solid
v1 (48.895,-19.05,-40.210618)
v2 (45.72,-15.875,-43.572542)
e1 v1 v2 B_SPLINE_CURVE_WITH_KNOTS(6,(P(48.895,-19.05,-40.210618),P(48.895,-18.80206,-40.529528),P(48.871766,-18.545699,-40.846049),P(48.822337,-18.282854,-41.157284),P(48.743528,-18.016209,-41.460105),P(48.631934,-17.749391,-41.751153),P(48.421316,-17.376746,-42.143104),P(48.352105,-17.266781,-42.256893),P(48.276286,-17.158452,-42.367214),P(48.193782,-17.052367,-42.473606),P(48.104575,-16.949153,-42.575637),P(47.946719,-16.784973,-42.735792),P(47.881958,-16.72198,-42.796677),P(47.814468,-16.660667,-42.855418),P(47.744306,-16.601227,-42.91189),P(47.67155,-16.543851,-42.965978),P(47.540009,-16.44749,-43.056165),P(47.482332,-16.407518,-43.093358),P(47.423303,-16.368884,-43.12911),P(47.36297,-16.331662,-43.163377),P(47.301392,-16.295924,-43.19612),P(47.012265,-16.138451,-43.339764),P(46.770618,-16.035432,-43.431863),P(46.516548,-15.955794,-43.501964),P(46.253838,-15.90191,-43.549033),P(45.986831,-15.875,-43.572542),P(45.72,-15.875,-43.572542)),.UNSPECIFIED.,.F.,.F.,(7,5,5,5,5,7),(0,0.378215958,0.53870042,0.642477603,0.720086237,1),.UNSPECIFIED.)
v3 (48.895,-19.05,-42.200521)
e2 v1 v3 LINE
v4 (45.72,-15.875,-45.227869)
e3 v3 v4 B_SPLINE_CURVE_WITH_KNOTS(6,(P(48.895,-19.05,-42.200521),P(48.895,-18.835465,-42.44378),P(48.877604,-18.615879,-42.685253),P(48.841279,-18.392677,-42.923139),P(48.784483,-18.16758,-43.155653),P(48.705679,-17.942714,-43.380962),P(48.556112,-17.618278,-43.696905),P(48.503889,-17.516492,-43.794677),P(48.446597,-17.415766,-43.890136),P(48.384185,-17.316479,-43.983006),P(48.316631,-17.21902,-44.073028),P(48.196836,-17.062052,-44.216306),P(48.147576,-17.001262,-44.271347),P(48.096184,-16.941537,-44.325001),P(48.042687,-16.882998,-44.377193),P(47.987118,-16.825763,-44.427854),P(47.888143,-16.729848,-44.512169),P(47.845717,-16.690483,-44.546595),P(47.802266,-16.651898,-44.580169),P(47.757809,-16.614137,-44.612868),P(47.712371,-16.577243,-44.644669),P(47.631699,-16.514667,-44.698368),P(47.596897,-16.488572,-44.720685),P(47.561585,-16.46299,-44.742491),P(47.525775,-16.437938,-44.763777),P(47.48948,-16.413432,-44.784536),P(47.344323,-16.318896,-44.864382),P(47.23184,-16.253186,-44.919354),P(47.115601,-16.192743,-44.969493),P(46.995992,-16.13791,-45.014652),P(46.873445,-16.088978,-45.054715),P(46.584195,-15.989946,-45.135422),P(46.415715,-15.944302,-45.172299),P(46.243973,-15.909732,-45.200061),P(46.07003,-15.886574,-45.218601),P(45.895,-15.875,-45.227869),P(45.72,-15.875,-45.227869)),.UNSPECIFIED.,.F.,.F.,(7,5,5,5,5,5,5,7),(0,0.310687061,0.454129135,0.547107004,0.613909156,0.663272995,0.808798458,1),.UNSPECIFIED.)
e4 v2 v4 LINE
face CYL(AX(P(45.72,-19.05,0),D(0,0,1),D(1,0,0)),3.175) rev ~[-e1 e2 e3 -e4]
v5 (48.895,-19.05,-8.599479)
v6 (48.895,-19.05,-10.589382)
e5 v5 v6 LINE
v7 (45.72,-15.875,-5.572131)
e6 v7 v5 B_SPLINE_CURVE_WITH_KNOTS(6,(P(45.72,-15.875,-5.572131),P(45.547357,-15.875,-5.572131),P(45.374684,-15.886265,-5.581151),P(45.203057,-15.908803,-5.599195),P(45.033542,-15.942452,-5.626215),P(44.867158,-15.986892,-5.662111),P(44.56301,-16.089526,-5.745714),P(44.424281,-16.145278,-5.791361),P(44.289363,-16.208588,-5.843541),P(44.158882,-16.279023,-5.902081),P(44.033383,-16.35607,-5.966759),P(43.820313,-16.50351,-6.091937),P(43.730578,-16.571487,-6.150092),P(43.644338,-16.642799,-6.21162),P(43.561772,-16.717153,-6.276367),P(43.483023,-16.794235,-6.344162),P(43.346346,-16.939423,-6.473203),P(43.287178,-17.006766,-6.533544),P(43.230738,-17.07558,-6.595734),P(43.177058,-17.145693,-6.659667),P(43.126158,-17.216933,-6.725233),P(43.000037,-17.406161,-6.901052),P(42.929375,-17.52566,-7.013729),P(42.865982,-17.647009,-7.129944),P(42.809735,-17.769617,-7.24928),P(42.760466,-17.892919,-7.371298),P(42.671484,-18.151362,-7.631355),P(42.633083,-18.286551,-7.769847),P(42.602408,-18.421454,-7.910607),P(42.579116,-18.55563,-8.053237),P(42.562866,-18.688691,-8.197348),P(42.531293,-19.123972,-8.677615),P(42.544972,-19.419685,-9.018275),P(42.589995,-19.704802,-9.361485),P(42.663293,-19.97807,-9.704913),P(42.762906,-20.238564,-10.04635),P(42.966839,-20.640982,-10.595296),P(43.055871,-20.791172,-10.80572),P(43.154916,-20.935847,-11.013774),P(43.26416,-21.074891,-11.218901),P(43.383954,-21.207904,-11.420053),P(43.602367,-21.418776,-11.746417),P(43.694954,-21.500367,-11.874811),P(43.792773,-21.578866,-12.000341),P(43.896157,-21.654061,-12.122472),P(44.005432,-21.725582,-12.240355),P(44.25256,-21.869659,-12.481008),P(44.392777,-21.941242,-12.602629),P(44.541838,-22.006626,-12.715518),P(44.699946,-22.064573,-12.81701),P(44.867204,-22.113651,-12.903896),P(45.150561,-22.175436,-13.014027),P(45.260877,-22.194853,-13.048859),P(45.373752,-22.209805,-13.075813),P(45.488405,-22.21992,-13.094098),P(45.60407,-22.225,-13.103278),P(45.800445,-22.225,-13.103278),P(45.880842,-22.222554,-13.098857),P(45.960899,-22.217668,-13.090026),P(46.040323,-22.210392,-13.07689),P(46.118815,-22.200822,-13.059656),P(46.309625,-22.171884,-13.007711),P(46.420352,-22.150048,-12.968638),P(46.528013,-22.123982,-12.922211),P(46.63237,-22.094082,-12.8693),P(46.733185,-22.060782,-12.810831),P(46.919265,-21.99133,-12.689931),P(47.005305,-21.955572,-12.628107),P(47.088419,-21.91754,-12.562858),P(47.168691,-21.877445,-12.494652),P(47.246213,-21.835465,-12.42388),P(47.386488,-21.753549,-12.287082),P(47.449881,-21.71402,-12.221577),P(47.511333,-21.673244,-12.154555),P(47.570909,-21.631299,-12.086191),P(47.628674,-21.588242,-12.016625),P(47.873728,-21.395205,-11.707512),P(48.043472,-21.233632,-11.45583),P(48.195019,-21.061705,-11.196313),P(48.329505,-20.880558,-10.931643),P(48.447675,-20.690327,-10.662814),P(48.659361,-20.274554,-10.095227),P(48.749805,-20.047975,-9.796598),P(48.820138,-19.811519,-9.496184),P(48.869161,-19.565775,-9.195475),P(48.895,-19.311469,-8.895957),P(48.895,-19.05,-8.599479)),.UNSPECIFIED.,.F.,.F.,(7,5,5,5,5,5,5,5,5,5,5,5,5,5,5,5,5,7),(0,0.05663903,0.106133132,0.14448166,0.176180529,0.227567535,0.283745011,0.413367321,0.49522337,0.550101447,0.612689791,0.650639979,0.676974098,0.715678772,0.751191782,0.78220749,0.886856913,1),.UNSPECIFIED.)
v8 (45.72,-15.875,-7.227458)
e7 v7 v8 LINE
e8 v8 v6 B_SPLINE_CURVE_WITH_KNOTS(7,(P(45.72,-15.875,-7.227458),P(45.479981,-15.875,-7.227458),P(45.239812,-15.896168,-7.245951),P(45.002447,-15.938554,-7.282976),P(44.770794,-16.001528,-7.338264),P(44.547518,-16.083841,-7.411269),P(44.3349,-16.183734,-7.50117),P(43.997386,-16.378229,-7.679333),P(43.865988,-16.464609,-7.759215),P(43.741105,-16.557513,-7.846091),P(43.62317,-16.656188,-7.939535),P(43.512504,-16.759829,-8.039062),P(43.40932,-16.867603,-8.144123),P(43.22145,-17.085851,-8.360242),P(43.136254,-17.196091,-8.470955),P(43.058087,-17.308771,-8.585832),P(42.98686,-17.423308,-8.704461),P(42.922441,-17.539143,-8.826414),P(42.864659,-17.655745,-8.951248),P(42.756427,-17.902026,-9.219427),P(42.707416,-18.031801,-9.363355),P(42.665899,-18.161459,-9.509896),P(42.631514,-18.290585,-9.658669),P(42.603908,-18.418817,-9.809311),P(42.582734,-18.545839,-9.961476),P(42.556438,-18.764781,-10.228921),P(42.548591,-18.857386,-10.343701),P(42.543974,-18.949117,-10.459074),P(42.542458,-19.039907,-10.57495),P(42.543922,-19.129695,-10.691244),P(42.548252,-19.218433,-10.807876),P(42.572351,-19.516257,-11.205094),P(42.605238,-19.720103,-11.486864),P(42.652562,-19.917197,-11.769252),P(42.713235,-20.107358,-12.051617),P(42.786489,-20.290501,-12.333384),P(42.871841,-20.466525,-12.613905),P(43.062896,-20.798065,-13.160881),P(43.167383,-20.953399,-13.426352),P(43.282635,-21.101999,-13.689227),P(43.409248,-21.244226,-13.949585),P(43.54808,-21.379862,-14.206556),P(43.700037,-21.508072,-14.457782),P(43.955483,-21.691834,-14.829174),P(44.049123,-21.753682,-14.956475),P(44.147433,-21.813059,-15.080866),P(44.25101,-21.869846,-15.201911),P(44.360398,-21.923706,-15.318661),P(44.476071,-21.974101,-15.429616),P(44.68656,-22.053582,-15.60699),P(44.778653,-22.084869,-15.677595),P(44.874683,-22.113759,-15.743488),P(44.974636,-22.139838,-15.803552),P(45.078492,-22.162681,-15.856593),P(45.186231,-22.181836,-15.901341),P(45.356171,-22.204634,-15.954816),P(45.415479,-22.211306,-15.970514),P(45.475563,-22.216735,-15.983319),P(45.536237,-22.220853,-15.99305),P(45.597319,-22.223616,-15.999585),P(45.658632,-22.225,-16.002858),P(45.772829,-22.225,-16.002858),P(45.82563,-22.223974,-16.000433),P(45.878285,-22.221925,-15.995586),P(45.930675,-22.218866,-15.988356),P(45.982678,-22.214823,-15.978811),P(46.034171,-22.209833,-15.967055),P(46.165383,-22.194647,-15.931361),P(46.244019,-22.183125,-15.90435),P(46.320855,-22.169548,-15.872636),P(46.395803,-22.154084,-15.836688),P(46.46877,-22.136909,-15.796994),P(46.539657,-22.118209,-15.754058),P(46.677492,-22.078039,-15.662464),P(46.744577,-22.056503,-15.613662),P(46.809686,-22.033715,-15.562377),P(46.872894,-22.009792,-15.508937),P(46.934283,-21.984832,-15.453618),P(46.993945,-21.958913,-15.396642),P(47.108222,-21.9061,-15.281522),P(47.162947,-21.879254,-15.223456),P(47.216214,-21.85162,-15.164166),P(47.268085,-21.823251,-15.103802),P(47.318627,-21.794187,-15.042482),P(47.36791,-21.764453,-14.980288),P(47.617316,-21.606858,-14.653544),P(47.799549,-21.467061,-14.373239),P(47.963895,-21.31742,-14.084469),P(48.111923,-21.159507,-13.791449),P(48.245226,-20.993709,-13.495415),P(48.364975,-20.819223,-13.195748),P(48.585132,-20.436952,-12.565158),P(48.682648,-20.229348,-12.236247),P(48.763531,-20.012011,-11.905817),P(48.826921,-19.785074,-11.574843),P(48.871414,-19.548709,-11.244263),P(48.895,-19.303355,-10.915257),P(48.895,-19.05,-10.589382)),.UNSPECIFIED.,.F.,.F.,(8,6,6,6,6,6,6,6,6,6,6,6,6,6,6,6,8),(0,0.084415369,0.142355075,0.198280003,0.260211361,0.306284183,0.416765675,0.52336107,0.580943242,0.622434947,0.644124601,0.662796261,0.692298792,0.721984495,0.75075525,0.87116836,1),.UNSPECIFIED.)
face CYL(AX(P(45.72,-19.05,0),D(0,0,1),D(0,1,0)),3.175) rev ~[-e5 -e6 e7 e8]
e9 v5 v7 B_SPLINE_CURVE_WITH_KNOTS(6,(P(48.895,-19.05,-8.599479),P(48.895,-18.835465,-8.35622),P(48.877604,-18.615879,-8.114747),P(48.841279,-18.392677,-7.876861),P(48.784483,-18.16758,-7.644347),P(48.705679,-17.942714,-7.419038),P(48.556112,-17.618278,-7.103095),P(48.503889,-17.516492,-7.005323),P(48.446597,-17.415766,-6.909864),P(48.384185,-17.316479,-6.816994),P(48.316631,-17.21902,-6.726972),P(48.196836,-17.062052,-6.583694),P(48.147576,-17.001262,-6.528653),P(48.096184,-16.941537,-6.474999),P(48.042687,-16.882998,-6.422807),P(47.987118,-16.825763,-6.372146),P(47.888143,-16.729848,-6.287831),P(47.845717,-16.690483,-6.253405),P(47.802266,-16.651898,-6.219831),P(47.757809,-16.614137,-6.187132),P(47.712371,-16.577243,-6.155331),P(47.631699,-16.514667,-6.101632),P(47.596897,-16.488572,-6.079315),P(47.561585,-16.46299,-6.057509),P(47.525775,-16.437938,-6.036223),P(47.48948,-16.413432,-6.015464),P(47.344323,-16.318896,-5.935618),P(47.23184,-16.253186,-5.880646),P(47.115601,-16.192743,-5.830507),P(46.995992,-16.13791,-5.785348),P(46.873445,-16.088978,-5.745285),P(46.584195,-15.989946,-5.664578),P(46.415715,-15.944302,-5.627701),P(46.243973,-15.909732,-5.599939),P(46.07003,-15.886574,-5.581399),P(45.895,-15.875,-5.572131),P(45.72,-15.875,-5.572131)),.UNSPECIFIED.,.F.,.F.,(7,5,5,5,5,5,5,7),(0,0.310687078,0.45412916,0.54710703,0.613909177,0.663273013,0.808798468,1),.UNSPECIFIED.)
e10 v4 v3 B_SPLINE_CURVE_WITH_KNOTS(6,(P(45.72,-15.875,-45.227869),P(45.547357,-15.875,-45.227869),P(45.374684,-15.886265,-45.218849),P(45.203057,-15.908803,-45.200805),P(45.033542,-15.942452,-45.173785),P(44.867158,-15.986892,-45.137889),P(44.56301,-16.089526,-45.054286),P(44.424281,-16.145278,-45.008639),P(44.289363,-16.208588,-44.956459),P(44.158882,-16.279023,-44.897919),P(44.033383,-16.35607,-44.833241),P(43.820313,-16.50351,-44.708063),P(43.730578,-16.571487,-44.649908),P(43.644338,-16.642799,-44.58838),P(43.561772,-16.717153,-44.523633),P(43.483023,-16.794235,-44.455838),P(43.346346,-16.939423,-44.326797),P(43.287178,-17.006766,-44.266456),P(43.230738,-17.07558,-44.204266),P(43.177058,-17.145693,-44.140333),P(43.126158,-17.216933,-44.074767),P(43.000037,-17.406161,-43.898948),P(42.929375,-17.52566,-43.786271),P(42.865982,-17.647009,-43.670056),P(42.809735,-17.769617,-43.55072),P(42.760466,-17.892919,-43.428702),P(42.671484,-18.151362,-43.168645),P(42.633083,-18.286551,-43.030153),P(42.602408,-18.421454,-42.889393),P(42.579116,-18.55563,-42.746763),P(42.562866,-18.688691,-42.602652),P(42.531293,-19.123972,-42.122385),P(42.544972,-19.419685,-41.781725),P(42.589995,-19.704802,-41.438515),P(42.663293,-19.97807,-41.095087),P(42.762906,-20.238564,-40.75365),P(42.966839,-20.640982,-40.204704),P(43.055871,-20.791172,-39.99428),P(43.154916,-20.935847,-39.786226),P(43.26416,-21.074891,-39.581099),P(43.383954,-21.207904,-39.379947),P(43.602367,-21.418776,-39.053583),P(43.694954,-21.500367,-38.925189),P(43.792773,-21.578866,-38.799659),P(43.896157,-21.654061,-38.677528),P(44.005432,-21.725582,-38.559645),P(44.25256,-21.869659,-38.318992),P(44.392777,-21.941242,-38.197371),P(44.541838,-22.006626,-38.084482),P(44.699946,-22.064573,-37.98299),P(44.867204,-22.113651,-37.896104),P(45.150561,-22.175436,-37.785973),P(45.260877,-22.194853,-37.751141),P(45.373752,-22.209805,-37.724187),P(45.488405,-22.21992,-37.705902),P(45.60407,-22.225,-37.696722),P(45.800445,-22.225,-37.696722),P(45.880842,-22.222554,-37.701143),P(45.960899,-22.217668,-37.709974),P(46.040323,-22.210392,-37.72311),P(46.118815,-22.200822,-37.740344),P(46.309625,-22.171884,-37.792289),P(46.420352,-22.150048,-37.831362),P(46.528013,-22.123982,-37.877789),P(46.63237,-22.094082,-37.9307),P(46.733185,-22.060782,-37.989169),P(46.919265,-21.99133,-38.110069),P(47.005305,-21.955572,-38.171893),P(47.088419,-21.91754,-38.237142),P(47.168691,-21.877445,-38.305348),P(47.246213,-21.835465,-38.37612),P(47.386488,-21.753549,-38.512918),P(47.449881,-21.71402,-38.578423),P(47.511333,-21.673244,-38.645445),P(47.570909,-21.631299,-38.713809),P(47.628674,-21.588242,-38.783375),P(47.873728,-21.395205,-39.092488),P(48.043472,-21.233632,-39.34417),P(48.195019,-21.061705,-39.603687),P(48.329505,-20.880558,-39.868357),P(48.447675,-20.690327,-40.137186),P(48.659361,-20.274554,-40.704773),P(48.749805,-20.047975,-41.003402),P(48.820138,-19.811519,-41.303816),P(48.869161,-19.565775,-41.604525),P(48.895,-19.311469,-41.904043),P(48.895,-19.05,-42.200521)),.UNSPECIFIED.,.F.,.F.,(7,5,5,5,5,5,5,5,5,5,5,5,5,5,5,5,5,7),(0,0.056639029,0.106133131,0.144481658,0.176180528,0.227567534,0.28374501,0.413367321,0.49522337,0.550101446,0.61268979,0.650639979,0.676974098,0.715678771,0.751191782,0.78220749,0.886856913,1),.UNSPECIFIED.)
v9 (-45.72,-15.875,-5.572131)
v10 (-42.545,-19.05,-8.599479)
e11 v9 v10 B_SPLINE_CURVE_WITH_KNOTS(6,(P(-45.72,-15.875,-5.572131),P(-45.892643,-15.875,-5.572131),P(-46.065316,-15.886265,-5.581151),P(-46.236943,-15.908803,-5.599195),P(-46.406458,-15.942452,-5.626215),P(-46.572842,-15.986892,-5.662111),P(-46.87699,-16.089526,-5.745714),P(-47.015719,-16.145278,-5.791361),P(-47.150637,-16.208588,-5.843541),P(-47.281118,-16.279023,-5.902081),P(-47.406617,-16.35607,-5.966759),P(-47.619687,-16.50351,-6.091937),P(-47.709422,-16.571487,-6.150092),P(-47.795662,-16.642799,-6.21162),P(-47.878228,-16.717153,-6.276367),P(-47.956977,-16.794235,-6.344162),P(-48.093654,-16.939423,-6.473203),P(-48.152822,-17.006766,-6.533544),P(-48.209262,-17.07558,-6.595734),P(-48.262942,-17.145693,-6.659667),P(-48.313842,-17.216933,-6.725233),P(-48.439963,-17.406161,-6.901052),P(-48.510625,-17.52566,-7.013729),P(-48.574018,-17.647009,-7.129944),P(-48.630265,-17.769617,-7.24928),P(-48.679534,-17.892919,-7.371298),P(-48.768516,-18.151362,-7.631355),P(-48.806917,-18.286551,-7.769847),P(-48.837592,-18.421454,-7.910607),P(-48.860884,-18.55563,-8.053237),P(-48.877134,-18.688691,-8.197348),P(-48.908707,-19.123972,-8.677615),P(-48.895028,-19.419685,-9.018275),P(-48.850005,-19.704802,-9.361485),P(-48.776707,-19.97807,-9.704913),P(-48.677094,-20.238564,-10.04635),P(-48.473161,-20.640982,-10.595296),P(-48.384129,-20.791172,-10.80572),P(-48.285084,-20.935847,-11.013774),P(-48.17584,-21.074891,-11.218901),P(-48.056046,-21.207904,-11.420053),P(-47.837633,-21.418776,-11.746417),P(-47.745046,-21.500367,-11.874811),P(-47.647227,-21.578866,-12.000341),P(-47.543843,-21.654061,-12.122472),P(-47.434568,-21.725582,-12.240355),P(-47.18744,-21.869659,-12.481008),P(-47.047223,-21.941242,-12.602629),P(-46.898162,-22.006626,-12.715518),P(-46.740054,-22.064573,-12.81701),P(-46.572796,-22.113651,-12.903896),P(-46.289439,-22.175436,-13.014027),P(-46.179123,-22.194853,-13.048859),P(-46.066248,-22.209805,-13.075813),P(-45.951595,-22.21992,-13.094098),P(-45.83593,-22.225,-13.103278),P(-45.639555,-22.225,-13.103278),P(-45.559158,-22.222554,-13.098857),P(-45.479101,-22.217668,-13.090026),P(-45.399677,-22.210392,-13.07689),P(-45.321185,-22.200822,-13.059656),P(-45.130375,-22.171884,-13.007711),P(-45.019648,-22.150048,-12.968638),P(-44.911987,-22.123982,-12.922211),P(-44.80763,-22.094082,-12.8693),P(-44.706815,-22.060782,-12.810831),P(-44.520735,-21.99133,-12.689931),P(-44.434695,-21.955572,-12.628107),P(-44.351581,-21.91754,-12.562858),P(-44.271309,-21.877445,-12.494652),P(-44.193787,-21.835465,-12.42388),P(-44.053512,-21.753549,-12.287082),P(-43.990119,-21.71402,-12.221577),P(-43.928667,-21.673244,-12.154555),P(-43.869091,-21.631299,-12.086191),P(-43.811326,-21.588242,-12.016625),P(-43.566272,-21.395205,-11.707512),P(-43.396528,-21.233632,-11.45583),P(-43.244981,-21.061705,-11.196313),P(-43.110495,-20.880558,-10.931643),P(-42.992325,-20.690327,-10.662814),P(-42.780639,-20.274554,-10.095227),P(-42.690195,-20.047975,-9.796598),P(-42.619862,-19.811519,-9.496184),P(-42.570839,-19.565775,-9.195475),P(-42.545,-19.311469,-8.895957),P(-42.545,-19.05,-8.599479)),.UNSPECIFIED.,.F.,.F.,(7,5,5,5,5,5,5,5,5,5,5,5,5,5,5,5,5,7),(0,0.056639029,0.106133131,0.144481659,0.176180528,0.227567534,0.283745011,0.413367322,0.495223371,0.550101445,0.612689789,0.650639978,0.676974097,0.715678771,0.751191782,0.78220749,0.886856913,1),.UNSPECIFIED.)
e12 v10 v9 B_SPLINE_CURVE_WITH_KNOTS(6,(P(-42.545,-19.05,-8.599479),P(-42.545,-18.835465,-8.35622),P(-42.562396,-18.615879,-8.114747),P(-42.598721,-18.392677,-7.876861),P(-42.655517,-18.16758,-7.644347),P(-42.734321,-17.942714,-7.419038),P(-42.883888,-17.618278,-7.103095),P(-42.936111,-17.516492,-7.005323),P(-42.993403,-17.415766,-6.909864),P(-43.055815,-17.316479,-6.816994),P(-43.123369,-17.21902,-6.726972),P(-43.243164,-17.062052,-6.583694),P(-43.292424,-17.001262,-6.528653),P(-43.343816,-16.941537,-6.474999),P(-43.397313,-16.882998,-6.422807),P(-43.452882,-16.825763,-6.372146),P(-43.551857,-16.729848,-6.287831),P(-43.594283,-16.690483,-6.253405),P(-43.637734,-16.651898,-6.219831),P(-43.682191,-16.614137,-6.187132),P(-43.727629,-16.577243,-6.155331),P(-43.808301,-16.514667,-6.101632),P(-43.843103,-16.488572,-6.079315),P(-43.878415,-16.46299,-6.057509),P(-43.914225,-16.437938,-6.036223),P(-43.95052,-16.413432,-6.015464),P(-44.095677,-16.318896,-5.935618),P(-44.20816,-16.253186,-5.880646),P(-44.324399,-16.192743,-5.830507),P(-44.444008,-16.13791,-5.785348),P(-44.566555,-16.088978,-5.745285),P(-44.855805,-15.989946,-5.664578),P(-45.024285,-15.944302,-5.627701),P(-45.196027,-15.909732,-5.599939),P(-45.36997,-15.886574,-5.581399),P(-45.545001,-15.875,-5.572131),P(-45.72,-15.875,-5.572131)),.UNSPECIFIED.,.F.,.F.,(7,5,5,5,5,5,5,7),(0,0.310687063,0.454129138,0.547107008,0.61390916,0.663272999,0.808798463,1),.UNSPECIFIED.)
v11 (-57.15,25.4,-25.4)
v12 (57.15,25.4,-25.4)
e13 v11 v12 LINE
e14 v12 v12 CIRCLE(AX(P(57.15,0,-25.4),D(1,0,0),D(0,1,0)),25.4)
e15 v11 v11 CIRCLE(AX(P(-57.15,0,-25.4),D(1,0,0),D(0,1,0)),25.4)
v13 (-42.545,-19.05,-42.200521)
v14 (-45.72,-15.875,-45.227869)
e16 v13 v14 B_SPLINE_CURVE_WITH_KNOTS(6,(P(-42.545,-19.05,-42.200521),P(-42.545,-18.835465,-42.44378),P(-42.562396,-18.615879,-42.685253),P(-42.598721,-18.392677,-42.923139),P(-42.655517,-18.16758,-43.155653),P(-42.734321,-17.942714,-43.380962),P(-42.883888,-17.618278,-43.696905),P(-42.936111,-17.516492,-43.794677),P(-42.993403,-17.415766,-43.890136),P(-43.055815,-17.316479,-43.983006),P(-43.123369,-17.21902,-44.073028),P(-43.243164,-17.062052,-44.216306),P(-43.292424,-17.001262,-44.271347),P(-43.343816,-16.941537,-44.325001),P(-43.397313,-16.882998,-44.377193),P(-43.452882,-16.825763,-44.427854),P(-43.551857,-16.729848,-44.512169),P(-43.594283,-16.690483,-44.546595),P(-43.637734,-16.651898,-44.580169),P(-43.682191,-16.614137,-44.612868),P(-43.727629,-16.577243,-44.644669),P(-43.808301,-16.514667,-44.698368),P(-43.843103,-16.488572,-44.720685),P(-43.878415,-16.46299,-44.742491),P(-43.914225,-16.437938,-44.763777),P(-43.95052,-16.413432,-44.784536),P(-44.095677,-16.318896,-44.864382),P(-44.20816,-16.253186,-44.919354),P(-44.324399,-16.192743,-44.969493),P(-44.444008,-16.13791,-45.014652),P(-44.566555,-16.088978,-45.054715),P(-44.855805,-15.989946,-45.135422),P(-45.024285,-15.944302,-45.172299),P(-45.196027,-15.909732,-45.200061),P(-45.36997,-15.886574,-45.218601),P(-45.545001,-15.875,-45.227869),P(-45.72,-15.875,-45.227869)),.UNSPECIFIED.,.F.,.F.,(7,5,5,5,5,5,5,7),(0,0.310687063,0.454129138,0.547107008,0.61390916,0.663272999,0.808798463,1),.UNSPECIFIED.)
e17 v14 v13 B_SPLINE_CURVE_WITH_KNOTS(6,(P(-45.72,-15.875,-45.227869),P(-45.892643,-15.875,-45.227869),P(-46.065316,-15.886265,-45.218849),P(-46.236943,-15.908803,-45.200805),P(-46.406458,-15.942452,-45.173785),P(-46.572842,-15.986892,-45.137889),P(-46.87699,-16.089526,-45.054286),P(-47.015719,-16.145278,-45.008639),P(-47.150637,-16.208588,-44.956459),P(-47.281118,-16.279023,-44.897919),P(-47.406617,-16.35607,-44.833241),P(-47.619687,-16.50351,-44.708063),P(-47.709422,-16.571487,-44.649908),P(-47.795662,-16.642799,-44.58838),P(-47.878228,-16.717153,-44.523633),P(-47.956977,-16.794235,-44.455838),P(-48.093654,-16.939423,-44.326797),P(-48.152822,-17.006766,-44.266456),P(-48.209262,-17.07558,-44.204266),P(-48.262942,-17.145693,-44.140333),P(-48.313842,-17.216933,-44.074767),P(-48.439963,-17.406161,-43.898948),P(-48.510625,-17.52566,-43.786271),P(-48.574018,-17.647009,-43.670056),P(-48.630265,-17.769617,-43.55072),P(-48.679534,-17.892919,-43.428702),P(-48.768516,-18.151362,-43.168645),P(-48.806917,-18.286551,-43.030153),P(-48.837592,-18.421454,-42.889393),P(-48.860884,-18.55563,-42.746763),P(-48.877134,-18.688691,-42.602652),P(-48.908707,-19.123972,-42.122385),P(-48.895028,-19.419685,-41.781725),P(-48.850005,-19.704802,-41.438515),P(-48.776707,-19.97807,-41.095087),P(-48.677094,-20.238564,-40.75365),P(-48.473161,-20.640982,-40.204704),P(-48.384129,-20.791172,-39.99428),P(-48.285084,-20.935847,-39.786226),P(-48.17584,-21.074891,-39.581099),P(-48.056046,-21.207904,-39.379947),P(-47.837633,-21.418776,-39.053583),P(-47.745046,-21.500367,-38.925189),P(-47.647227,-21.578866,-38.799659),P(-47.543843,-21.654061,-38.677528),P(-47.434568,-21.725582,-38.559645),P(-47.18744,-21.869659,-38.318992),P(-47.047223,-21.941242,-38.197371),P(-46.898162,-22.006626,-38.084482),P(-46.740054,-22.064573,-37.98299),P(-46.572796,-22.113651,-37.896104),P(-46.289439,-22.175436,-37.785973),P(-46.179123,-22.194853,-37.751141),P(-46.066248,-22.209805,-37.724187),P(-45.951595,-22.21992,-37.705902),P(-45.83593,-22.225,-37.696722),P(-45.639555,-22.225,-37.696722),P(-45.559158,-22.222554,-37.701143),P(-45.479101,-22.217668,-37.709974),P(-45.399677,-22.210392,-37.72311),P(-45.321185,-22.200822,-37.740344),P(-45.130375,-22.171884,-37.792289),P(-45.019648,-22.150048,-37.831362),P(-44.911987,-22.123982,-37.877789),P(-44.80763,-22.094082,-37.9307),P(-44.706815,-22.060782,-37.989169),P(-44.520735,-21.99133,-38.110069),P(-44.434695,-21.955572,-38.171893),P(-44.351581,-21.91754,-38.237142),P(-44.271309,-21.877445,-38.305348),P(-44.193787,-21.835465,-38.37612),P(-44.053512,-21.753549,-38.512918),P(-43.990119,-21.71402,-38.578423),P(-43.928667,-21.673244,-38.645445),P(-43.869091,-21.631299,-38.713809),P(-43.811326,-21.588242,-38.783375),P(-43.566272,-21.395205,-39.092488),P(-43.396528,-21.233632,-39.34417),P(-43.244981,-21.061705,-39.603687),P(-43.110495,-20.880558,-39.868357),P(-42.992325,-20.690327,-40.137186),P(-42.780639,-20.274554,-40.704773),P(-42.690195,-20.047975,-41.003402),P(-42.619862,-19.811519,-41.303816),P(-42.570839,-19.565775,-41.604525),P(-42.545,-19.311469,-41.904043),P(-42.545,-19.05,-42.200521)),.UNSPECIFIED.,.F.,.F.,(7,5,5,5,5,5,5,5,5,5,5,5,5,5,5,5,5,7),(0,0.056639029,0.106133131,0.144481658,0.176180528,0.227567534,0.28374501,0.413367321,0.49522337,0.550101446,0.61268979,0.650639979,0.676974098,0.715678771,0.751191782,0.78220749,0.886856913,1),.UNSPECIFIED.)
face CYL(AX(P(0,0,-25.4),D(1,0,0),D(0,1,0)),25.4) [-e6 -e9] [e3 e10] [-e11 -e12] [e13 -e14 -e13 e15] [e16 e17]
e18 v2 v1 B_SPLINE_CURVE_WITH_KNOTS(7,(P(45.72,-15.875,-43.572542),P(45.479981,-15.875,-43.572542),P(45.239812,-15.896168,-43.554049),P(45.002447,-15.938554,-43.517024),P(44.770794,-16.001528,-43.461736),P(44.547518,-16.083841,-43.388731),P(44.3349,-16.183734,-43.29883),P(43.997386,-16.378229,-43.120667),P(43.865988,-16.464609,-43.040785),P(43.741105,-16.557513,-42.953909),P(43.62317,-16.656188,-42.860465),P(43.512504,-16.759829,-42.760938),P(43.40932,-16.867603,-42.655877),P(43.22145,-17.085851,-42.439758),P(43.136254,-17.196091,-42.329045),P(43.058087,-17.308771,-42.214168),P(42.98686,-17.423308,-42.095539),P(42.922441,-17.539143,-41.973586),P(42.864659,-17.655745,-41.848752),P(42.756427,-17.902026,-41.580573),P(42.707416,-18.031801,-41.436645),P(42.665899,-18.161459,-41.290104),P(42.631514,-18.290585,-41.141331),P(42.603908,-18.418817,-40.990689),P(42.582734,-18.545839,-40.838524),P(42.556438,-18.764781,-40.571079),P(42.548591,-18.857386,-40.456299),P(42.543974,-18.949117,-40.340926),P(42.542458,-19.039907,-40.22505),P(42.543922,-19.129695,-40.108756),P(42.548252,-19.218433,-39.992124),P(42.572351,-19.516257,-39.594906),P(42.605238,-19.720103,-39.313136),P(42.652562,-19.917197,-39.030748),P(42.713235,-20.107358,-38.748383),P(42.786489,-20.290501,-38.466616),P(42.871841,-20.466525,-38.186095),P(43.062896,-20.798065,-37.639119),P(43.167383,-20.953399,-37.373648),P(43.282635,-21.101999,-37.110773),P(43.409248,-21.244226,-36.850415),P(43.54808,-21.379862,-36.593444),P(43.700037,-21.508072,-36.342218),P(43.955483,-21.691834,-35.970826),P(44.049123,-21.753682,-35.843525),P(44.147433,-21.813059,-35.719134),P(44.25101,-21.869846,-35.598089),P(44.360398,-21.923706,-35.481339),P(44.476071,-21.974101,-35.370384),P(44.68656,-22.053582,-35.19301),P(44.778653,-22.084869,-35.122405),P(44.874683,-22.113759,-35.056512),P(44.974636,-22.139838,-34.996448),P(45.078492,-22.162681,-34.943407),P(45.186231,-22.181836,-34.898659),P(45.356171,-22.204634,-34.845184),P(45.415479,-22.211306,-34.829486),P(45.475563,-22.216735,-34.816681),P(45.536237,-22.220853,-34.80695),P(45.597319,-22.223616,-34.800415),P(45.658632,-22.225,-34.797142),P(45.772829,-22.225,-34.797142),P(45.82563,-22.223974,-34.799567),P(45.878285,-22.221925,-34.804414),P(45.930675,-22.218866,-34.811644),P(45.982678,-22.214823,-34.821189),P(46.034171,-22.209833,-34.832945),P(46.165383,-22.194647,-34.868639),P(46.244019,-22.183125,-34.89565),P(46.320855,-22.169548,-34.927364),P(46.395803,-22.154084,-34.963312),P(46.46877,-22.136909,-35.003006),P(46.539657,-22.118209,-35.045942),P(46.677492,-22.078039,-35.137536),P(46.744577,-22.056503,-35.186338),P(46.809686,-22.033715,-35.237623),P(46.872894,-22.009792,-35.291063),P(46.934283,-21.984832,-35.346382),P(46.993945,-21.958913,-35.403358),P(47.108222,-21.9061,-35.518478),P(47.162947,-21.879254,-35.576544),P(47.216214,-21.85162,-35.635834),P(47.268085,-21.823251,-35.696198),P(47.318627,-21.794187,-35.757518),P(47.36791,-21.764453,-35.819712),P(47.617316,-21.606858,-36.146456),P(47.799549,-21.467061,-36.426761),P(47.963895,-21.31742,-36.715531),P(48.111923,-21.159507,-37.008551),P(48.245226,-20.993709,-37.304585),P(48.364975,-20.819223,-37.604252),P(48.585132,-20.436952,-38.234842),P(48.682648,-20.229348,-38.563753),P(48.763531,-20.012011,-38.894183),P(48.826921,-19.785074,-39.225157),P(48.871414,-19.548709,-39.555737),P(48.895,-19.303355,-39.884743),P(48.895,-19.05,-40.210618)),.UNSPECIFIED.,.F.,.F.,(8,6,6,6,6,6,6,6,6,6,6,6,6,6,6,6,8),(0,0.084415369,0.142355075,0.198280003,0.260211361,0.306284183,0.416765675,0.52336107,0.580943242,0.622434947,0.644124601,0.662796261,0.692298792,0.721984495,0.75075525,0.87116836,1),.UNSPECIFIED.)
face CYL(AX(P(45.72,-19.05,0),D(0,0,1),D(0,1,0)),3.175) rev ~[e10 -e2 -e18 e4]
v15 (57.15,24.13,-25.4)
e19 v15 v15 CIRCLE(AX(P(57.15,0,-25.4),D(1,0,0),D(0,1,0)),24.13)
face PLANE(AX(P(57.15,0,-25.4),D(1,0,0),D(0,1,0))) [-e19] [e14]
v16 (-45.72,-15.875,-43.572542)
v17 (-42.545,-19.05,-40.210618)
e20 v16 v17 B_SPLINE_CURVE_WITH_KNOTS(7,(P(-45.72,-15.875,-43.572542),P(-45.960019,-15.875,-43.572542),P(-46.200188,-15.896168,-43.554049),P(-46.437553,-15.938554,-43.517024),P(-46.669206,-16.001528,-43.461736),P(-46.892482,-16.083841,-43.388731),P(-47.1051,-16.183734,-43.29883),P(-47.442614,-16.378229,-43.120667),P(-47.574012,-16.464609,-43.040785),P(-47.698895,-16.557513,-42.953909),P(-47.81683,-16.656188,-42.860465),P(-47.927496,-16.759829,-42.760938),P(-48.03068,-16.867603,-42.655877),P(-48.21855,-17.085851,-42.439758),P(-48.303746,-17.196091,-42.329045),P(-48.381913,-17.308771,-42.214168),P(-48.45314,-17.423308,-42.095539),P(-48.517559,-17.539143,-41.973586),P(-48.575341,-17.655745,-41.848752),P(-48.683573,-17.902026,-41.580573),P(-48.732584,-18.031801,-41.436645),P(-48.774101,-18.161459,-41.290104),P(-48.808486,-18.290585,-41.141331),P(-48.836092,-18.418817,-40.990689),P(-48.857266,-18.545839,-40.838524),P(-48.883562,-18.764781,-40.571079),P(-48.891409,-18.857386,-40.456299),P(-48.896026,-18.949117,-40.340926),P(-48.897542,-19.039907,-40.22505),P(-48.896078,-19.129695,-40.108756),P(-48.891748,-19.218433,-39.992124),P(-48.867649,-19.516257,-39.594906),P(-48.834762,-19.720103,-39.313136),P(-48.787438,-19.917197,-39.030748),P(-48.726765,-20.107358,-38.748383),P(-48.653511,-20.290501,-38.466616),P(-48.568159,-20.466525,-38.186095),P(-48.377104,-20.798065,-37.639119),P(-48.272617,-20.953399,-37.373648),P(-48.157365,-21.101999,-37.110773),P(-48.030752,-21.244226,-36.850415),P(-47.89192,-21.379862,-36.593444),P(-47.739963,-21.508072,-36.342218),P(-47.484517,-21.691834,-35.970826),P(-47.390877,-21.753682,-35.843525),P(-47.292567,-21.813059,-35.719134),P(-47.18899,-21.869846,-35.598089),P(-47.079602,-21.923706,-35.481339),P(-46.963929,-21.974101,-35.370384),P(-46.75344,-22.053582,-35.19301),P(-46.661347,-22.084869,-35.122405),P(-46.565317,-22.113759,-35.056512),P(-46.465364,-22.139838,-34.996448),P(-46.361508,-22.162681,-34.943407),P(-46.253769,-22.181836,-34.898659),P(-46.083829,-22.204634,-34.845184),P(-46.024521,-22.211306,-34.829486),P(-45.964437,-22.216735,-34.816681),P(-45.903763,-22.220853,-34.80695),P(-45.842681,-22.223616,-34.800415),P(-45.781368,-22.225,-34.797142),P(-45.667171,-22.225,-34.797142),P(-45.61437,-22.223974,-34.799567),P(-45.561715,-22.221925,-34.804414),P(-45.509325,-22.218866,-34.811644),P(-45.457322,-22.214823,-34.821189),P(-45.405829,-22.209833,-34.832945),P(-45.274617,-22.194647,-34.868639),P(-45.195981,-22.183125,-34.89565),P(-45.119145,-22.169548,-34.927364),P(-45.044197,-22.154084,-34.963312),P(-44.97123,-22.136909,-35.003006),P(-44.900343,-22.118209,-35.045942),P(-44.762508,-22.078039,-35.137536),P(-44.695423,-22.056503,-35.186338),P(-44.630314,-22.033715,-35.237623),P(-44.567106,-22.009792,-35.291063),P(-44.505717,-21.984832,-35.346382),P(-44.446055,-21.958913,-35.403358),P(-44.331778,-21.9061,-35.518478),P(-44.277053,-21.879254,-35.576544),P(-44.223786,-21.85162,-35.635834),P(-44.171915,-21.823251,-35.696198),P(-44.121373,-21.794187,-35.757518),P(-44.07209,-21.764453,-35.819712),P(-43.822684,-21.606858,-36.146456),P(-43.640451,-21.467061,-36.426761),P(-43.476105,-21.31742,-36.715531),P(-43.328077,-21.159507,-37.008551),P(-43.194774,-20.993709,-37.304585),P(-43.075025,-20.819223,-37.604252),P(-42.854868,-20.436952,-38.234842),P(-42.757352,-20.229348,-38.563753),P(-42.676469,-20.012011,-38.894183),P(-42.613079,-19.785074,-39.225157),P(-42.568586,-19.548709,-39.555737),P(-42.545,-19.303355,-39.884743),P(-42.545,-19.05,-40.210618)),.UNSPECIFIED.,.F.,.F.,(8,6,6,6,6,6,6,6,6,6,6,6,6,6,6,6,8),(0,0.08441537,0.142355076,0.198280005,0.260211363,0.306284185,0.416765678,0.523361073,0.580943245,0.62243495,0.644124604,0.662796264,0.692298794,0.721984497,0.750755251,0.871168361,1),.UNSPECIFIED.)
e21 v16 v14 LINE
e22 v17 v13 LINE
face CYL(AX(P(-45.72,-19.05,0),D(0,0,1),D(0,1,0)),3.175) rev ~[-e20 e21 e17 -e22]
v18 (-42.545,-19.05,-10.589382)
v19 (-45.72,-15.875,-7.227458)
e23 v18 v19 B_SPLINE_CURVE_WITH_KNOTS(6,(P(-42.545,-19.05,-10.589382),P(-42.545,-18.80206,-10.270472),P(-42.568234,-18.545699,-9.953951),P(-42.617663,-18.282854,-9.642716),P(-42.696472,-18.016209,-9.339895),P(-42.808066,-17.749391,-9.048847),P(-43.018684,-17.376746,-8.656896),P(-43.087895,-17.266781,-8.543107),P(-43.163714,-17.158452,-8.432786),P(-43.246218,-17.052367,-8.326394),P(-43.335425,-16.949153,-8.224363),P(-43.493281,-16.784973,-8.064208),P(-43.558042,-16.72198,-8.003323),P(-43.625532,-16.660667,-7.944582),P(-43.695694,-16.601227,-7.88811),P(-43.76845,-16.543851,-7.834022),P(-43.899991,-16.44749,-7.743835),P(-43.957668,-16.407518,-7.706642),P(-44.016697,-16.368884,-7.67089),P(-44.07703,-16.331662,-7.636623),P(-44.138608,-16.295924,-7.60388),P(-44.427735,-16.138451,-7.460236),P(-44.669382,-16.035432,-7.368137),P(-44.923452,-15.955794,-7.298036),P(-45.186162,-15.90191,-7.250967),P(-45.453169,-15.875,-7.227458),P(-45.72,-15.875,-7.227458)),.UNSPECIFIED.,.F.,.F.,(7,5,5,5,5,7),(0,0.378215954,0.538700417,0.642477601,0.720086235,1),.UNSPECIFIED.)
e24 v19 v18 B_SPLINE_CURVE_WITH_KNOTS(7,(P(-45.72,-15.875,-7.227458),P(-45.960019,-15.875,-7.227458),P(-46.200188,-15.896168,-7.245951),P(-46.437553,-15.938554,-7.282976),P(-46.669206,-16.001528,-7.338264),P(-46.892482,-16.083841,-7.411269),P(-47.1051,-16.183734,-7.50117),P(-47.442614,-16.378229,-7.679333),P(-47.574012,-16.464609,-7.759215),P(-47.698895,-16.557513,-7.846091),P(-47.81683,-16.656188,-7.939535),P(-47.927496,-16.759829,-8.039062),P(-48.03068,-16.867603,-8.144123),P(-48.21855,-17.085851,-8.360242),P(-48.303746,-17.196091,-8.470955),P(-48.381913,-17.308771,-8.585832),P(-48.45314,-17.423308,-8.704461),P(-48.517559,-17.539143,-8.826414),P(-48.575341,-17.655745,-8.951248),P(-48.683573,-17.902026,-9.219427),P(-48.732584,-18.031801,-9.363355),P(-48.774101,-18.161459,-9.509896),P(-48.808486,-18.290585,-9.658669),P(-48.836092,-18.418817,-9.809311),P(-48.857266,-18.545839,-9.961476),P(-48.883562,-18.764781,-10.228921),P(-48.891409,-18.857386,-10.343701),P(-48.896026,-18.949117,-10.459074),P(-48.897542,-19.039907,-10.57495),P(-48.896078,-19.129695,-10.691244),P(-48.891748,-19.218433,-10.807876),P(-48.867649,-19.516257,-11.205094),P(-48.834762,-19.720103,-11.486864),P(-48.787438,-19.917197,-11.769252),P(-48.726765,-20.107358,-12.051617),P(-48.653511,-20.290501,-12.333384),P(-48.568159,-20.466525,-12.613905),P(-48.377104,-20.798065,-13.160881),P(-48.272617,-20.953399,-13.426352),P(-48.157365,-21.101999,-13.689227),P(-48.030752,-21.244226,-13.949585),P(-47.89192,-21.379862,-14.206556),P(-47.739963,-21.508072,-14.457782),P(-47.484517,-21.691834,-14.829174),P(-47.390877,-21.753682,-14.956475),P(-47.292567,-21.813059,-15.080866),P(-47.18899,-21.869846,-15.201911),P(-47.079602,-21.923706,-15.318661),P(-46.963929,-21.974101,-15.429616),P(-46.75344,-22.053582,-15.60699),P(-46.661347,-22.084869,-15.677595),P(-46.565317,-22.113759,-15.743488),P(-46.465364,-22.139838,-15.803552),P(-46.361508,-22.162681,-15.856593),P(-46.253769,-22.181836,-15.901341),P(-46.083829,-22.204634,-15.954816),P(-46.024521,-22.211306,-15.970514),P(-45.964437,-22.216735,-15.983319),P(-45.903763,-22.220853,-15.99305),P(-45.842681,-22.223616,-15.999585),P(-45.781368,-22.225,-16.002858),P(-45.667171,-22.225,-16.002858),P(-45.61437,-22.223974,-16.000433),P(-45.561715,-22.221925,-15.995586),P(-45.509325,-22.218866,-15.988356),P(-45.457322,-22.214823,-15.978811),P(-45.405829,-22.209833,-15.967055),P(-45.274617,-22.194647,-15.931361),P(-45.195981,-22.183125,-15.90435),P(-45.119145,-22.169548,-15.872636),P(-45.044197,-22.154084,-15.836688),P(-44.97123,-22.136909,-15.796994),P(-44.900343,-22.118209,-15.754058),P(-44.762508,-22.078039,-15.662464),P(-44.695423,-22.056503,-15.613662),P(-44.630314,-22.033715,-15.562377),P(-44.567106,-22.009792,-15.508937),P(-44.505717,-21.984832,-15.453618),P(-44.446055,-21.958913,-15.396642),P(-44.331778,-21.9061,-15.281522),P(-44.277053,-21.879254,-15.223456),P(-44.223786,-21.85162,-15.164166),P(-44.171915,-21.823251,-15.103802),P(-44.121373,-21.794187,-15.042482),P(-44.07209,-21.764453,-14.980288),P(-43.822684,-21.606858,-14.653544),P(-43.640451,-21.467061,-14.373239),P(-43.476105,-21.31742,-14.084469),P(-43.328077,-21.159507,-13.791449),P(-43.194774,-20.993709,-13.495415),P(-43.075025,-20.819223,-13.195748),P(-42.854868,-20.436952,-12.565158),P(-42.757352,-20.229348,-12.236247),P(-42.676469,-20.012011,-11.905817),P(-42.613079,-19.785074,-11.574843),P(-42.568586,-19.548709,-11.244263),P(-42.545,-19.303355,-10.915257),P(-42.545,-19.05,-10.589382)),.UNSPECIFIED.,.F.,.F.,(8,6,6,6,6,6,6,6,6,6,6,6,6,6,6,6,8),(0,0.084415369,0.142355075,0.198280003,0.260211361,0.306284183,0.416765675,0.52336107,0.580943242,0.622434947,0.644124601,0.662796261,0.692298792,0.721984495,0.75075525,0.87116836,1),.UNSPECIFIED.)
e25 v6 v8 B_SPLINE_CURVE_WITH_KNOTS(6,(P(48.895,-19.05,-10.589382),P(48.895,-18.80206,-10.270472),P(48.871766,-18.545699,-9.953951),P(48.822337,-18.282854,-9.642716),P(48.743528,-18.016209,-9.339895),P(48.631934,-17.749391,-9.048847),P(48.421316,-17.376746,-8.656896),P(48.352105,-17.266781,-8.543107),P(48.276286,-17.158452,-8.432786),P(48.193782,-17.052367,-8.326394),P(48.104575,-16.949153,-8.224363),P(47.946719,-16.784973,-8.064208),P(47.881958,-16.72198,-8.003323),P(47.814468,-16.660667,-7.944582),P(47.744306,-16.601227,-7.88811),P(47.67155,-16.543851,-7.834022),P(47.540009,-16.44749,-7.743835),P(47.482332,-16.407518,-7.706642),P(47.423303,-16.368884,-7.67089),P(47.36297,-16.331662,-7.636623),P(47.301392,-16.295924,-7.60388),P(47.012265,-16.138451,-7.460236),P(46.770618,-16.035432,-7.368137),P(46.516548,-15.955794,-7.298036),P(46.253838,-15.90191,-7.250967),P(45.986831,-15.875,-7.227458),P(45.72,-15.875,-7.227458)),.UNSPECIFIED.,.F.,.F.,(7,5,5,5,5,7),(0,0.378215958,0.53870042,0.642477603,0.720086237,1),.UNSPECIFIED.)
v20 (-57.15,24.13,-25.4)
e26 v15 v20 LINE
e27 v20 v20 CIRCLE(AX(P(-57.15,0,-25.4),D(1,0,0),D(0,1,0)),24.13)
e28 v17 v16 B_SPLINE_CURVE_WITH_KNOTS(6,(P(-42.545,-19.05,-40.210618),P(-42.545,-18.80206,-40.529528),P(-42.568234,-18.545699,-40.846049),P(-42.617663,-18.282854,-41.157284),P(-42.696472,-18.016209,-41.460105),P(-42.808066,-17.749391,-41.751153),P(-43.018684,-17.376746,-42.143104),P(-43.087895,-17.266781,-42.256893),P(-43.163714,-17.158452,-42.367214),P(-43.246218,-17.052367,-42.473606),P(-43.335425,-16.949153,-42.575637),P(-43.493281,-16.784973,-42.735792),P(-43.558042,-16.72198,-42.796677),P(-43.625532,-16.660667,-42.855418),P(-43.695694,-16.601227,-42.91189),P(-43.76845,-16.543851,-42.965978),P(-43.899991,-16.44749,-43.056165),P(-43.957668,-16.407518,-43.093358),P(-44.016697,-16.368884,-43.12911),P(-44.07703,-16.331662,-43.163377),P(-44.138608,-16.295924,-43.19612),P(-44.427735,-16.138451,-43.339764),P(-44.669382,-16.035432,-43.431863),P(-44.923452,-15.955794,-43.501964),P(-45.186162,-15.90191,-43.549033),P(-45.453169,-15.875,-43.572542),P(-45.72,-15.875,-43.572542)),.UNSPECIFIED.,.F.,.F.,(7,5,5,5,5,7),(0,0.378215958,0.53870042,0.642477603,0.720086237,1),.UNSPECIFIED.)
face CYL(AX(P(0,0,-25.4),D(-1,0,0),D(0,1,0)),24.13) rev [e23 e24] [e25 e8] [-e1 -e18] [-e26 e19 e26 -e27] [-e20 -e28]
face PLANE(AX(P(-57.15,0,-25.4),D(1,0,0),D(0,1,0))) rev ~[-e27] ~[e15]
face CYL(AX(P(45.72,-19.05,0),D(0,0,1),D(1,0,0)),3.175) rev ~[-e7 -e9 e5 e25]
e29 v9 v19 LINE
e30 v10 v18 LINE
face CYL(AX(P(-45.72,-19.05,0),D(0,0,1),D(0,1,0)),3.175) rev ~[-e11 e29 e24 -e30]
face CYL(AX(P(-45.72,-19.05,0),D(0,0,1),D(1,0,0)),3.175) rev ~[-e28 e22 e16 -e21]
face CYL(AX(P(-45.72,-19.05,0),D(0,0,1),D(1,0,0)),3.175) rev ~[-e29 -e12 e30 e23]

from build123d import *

# Parameters (mm, degrees)
F0_R     = 25.4
F0_R_2   = 24.13
F1_DEPTH = 57.15
F3_DEPTH = 50.8


with BuildPart() as f1:
    # F0 (on Right) → F1 (new body, symmetric)
    with BuildSketch(Plane.YZ):
        with Locations((0, -25.4)):
            Circle(F0_R)
        with Locations((0, -25.4)):
            Circle(F0_R_2, mode=Mode.SUBTRACT)
    extrude(amount=F1_DEPTH, both=True)

    # F2 (on Top) → F3 (cut)
    with BuildSketch(Plane.XY):
        with BuildLine():
            ThreePointArc((48.895, -19.05), (47.9650640303, -16.8049359697), (45.72, -15.875))
            ThreePointArc((45.72, -15.875), (43.4749359697, -21.2950640303), (48.895, -19.05))
        make_face()
        with BuildLine():
            ThreePointArc((-42.545, -19.05), (-43.4749359697, -16.8049359697), (-45.72, -15.875))
            ThreePointArc((-45.72, -15.875), (-47.9650640303, -21.2950640303), (-42.545, -19.05))
        make_face()
    extrude(amount=-F3_DEPTH, mode=Mode.SUBTRACT)


solid = f1.part
